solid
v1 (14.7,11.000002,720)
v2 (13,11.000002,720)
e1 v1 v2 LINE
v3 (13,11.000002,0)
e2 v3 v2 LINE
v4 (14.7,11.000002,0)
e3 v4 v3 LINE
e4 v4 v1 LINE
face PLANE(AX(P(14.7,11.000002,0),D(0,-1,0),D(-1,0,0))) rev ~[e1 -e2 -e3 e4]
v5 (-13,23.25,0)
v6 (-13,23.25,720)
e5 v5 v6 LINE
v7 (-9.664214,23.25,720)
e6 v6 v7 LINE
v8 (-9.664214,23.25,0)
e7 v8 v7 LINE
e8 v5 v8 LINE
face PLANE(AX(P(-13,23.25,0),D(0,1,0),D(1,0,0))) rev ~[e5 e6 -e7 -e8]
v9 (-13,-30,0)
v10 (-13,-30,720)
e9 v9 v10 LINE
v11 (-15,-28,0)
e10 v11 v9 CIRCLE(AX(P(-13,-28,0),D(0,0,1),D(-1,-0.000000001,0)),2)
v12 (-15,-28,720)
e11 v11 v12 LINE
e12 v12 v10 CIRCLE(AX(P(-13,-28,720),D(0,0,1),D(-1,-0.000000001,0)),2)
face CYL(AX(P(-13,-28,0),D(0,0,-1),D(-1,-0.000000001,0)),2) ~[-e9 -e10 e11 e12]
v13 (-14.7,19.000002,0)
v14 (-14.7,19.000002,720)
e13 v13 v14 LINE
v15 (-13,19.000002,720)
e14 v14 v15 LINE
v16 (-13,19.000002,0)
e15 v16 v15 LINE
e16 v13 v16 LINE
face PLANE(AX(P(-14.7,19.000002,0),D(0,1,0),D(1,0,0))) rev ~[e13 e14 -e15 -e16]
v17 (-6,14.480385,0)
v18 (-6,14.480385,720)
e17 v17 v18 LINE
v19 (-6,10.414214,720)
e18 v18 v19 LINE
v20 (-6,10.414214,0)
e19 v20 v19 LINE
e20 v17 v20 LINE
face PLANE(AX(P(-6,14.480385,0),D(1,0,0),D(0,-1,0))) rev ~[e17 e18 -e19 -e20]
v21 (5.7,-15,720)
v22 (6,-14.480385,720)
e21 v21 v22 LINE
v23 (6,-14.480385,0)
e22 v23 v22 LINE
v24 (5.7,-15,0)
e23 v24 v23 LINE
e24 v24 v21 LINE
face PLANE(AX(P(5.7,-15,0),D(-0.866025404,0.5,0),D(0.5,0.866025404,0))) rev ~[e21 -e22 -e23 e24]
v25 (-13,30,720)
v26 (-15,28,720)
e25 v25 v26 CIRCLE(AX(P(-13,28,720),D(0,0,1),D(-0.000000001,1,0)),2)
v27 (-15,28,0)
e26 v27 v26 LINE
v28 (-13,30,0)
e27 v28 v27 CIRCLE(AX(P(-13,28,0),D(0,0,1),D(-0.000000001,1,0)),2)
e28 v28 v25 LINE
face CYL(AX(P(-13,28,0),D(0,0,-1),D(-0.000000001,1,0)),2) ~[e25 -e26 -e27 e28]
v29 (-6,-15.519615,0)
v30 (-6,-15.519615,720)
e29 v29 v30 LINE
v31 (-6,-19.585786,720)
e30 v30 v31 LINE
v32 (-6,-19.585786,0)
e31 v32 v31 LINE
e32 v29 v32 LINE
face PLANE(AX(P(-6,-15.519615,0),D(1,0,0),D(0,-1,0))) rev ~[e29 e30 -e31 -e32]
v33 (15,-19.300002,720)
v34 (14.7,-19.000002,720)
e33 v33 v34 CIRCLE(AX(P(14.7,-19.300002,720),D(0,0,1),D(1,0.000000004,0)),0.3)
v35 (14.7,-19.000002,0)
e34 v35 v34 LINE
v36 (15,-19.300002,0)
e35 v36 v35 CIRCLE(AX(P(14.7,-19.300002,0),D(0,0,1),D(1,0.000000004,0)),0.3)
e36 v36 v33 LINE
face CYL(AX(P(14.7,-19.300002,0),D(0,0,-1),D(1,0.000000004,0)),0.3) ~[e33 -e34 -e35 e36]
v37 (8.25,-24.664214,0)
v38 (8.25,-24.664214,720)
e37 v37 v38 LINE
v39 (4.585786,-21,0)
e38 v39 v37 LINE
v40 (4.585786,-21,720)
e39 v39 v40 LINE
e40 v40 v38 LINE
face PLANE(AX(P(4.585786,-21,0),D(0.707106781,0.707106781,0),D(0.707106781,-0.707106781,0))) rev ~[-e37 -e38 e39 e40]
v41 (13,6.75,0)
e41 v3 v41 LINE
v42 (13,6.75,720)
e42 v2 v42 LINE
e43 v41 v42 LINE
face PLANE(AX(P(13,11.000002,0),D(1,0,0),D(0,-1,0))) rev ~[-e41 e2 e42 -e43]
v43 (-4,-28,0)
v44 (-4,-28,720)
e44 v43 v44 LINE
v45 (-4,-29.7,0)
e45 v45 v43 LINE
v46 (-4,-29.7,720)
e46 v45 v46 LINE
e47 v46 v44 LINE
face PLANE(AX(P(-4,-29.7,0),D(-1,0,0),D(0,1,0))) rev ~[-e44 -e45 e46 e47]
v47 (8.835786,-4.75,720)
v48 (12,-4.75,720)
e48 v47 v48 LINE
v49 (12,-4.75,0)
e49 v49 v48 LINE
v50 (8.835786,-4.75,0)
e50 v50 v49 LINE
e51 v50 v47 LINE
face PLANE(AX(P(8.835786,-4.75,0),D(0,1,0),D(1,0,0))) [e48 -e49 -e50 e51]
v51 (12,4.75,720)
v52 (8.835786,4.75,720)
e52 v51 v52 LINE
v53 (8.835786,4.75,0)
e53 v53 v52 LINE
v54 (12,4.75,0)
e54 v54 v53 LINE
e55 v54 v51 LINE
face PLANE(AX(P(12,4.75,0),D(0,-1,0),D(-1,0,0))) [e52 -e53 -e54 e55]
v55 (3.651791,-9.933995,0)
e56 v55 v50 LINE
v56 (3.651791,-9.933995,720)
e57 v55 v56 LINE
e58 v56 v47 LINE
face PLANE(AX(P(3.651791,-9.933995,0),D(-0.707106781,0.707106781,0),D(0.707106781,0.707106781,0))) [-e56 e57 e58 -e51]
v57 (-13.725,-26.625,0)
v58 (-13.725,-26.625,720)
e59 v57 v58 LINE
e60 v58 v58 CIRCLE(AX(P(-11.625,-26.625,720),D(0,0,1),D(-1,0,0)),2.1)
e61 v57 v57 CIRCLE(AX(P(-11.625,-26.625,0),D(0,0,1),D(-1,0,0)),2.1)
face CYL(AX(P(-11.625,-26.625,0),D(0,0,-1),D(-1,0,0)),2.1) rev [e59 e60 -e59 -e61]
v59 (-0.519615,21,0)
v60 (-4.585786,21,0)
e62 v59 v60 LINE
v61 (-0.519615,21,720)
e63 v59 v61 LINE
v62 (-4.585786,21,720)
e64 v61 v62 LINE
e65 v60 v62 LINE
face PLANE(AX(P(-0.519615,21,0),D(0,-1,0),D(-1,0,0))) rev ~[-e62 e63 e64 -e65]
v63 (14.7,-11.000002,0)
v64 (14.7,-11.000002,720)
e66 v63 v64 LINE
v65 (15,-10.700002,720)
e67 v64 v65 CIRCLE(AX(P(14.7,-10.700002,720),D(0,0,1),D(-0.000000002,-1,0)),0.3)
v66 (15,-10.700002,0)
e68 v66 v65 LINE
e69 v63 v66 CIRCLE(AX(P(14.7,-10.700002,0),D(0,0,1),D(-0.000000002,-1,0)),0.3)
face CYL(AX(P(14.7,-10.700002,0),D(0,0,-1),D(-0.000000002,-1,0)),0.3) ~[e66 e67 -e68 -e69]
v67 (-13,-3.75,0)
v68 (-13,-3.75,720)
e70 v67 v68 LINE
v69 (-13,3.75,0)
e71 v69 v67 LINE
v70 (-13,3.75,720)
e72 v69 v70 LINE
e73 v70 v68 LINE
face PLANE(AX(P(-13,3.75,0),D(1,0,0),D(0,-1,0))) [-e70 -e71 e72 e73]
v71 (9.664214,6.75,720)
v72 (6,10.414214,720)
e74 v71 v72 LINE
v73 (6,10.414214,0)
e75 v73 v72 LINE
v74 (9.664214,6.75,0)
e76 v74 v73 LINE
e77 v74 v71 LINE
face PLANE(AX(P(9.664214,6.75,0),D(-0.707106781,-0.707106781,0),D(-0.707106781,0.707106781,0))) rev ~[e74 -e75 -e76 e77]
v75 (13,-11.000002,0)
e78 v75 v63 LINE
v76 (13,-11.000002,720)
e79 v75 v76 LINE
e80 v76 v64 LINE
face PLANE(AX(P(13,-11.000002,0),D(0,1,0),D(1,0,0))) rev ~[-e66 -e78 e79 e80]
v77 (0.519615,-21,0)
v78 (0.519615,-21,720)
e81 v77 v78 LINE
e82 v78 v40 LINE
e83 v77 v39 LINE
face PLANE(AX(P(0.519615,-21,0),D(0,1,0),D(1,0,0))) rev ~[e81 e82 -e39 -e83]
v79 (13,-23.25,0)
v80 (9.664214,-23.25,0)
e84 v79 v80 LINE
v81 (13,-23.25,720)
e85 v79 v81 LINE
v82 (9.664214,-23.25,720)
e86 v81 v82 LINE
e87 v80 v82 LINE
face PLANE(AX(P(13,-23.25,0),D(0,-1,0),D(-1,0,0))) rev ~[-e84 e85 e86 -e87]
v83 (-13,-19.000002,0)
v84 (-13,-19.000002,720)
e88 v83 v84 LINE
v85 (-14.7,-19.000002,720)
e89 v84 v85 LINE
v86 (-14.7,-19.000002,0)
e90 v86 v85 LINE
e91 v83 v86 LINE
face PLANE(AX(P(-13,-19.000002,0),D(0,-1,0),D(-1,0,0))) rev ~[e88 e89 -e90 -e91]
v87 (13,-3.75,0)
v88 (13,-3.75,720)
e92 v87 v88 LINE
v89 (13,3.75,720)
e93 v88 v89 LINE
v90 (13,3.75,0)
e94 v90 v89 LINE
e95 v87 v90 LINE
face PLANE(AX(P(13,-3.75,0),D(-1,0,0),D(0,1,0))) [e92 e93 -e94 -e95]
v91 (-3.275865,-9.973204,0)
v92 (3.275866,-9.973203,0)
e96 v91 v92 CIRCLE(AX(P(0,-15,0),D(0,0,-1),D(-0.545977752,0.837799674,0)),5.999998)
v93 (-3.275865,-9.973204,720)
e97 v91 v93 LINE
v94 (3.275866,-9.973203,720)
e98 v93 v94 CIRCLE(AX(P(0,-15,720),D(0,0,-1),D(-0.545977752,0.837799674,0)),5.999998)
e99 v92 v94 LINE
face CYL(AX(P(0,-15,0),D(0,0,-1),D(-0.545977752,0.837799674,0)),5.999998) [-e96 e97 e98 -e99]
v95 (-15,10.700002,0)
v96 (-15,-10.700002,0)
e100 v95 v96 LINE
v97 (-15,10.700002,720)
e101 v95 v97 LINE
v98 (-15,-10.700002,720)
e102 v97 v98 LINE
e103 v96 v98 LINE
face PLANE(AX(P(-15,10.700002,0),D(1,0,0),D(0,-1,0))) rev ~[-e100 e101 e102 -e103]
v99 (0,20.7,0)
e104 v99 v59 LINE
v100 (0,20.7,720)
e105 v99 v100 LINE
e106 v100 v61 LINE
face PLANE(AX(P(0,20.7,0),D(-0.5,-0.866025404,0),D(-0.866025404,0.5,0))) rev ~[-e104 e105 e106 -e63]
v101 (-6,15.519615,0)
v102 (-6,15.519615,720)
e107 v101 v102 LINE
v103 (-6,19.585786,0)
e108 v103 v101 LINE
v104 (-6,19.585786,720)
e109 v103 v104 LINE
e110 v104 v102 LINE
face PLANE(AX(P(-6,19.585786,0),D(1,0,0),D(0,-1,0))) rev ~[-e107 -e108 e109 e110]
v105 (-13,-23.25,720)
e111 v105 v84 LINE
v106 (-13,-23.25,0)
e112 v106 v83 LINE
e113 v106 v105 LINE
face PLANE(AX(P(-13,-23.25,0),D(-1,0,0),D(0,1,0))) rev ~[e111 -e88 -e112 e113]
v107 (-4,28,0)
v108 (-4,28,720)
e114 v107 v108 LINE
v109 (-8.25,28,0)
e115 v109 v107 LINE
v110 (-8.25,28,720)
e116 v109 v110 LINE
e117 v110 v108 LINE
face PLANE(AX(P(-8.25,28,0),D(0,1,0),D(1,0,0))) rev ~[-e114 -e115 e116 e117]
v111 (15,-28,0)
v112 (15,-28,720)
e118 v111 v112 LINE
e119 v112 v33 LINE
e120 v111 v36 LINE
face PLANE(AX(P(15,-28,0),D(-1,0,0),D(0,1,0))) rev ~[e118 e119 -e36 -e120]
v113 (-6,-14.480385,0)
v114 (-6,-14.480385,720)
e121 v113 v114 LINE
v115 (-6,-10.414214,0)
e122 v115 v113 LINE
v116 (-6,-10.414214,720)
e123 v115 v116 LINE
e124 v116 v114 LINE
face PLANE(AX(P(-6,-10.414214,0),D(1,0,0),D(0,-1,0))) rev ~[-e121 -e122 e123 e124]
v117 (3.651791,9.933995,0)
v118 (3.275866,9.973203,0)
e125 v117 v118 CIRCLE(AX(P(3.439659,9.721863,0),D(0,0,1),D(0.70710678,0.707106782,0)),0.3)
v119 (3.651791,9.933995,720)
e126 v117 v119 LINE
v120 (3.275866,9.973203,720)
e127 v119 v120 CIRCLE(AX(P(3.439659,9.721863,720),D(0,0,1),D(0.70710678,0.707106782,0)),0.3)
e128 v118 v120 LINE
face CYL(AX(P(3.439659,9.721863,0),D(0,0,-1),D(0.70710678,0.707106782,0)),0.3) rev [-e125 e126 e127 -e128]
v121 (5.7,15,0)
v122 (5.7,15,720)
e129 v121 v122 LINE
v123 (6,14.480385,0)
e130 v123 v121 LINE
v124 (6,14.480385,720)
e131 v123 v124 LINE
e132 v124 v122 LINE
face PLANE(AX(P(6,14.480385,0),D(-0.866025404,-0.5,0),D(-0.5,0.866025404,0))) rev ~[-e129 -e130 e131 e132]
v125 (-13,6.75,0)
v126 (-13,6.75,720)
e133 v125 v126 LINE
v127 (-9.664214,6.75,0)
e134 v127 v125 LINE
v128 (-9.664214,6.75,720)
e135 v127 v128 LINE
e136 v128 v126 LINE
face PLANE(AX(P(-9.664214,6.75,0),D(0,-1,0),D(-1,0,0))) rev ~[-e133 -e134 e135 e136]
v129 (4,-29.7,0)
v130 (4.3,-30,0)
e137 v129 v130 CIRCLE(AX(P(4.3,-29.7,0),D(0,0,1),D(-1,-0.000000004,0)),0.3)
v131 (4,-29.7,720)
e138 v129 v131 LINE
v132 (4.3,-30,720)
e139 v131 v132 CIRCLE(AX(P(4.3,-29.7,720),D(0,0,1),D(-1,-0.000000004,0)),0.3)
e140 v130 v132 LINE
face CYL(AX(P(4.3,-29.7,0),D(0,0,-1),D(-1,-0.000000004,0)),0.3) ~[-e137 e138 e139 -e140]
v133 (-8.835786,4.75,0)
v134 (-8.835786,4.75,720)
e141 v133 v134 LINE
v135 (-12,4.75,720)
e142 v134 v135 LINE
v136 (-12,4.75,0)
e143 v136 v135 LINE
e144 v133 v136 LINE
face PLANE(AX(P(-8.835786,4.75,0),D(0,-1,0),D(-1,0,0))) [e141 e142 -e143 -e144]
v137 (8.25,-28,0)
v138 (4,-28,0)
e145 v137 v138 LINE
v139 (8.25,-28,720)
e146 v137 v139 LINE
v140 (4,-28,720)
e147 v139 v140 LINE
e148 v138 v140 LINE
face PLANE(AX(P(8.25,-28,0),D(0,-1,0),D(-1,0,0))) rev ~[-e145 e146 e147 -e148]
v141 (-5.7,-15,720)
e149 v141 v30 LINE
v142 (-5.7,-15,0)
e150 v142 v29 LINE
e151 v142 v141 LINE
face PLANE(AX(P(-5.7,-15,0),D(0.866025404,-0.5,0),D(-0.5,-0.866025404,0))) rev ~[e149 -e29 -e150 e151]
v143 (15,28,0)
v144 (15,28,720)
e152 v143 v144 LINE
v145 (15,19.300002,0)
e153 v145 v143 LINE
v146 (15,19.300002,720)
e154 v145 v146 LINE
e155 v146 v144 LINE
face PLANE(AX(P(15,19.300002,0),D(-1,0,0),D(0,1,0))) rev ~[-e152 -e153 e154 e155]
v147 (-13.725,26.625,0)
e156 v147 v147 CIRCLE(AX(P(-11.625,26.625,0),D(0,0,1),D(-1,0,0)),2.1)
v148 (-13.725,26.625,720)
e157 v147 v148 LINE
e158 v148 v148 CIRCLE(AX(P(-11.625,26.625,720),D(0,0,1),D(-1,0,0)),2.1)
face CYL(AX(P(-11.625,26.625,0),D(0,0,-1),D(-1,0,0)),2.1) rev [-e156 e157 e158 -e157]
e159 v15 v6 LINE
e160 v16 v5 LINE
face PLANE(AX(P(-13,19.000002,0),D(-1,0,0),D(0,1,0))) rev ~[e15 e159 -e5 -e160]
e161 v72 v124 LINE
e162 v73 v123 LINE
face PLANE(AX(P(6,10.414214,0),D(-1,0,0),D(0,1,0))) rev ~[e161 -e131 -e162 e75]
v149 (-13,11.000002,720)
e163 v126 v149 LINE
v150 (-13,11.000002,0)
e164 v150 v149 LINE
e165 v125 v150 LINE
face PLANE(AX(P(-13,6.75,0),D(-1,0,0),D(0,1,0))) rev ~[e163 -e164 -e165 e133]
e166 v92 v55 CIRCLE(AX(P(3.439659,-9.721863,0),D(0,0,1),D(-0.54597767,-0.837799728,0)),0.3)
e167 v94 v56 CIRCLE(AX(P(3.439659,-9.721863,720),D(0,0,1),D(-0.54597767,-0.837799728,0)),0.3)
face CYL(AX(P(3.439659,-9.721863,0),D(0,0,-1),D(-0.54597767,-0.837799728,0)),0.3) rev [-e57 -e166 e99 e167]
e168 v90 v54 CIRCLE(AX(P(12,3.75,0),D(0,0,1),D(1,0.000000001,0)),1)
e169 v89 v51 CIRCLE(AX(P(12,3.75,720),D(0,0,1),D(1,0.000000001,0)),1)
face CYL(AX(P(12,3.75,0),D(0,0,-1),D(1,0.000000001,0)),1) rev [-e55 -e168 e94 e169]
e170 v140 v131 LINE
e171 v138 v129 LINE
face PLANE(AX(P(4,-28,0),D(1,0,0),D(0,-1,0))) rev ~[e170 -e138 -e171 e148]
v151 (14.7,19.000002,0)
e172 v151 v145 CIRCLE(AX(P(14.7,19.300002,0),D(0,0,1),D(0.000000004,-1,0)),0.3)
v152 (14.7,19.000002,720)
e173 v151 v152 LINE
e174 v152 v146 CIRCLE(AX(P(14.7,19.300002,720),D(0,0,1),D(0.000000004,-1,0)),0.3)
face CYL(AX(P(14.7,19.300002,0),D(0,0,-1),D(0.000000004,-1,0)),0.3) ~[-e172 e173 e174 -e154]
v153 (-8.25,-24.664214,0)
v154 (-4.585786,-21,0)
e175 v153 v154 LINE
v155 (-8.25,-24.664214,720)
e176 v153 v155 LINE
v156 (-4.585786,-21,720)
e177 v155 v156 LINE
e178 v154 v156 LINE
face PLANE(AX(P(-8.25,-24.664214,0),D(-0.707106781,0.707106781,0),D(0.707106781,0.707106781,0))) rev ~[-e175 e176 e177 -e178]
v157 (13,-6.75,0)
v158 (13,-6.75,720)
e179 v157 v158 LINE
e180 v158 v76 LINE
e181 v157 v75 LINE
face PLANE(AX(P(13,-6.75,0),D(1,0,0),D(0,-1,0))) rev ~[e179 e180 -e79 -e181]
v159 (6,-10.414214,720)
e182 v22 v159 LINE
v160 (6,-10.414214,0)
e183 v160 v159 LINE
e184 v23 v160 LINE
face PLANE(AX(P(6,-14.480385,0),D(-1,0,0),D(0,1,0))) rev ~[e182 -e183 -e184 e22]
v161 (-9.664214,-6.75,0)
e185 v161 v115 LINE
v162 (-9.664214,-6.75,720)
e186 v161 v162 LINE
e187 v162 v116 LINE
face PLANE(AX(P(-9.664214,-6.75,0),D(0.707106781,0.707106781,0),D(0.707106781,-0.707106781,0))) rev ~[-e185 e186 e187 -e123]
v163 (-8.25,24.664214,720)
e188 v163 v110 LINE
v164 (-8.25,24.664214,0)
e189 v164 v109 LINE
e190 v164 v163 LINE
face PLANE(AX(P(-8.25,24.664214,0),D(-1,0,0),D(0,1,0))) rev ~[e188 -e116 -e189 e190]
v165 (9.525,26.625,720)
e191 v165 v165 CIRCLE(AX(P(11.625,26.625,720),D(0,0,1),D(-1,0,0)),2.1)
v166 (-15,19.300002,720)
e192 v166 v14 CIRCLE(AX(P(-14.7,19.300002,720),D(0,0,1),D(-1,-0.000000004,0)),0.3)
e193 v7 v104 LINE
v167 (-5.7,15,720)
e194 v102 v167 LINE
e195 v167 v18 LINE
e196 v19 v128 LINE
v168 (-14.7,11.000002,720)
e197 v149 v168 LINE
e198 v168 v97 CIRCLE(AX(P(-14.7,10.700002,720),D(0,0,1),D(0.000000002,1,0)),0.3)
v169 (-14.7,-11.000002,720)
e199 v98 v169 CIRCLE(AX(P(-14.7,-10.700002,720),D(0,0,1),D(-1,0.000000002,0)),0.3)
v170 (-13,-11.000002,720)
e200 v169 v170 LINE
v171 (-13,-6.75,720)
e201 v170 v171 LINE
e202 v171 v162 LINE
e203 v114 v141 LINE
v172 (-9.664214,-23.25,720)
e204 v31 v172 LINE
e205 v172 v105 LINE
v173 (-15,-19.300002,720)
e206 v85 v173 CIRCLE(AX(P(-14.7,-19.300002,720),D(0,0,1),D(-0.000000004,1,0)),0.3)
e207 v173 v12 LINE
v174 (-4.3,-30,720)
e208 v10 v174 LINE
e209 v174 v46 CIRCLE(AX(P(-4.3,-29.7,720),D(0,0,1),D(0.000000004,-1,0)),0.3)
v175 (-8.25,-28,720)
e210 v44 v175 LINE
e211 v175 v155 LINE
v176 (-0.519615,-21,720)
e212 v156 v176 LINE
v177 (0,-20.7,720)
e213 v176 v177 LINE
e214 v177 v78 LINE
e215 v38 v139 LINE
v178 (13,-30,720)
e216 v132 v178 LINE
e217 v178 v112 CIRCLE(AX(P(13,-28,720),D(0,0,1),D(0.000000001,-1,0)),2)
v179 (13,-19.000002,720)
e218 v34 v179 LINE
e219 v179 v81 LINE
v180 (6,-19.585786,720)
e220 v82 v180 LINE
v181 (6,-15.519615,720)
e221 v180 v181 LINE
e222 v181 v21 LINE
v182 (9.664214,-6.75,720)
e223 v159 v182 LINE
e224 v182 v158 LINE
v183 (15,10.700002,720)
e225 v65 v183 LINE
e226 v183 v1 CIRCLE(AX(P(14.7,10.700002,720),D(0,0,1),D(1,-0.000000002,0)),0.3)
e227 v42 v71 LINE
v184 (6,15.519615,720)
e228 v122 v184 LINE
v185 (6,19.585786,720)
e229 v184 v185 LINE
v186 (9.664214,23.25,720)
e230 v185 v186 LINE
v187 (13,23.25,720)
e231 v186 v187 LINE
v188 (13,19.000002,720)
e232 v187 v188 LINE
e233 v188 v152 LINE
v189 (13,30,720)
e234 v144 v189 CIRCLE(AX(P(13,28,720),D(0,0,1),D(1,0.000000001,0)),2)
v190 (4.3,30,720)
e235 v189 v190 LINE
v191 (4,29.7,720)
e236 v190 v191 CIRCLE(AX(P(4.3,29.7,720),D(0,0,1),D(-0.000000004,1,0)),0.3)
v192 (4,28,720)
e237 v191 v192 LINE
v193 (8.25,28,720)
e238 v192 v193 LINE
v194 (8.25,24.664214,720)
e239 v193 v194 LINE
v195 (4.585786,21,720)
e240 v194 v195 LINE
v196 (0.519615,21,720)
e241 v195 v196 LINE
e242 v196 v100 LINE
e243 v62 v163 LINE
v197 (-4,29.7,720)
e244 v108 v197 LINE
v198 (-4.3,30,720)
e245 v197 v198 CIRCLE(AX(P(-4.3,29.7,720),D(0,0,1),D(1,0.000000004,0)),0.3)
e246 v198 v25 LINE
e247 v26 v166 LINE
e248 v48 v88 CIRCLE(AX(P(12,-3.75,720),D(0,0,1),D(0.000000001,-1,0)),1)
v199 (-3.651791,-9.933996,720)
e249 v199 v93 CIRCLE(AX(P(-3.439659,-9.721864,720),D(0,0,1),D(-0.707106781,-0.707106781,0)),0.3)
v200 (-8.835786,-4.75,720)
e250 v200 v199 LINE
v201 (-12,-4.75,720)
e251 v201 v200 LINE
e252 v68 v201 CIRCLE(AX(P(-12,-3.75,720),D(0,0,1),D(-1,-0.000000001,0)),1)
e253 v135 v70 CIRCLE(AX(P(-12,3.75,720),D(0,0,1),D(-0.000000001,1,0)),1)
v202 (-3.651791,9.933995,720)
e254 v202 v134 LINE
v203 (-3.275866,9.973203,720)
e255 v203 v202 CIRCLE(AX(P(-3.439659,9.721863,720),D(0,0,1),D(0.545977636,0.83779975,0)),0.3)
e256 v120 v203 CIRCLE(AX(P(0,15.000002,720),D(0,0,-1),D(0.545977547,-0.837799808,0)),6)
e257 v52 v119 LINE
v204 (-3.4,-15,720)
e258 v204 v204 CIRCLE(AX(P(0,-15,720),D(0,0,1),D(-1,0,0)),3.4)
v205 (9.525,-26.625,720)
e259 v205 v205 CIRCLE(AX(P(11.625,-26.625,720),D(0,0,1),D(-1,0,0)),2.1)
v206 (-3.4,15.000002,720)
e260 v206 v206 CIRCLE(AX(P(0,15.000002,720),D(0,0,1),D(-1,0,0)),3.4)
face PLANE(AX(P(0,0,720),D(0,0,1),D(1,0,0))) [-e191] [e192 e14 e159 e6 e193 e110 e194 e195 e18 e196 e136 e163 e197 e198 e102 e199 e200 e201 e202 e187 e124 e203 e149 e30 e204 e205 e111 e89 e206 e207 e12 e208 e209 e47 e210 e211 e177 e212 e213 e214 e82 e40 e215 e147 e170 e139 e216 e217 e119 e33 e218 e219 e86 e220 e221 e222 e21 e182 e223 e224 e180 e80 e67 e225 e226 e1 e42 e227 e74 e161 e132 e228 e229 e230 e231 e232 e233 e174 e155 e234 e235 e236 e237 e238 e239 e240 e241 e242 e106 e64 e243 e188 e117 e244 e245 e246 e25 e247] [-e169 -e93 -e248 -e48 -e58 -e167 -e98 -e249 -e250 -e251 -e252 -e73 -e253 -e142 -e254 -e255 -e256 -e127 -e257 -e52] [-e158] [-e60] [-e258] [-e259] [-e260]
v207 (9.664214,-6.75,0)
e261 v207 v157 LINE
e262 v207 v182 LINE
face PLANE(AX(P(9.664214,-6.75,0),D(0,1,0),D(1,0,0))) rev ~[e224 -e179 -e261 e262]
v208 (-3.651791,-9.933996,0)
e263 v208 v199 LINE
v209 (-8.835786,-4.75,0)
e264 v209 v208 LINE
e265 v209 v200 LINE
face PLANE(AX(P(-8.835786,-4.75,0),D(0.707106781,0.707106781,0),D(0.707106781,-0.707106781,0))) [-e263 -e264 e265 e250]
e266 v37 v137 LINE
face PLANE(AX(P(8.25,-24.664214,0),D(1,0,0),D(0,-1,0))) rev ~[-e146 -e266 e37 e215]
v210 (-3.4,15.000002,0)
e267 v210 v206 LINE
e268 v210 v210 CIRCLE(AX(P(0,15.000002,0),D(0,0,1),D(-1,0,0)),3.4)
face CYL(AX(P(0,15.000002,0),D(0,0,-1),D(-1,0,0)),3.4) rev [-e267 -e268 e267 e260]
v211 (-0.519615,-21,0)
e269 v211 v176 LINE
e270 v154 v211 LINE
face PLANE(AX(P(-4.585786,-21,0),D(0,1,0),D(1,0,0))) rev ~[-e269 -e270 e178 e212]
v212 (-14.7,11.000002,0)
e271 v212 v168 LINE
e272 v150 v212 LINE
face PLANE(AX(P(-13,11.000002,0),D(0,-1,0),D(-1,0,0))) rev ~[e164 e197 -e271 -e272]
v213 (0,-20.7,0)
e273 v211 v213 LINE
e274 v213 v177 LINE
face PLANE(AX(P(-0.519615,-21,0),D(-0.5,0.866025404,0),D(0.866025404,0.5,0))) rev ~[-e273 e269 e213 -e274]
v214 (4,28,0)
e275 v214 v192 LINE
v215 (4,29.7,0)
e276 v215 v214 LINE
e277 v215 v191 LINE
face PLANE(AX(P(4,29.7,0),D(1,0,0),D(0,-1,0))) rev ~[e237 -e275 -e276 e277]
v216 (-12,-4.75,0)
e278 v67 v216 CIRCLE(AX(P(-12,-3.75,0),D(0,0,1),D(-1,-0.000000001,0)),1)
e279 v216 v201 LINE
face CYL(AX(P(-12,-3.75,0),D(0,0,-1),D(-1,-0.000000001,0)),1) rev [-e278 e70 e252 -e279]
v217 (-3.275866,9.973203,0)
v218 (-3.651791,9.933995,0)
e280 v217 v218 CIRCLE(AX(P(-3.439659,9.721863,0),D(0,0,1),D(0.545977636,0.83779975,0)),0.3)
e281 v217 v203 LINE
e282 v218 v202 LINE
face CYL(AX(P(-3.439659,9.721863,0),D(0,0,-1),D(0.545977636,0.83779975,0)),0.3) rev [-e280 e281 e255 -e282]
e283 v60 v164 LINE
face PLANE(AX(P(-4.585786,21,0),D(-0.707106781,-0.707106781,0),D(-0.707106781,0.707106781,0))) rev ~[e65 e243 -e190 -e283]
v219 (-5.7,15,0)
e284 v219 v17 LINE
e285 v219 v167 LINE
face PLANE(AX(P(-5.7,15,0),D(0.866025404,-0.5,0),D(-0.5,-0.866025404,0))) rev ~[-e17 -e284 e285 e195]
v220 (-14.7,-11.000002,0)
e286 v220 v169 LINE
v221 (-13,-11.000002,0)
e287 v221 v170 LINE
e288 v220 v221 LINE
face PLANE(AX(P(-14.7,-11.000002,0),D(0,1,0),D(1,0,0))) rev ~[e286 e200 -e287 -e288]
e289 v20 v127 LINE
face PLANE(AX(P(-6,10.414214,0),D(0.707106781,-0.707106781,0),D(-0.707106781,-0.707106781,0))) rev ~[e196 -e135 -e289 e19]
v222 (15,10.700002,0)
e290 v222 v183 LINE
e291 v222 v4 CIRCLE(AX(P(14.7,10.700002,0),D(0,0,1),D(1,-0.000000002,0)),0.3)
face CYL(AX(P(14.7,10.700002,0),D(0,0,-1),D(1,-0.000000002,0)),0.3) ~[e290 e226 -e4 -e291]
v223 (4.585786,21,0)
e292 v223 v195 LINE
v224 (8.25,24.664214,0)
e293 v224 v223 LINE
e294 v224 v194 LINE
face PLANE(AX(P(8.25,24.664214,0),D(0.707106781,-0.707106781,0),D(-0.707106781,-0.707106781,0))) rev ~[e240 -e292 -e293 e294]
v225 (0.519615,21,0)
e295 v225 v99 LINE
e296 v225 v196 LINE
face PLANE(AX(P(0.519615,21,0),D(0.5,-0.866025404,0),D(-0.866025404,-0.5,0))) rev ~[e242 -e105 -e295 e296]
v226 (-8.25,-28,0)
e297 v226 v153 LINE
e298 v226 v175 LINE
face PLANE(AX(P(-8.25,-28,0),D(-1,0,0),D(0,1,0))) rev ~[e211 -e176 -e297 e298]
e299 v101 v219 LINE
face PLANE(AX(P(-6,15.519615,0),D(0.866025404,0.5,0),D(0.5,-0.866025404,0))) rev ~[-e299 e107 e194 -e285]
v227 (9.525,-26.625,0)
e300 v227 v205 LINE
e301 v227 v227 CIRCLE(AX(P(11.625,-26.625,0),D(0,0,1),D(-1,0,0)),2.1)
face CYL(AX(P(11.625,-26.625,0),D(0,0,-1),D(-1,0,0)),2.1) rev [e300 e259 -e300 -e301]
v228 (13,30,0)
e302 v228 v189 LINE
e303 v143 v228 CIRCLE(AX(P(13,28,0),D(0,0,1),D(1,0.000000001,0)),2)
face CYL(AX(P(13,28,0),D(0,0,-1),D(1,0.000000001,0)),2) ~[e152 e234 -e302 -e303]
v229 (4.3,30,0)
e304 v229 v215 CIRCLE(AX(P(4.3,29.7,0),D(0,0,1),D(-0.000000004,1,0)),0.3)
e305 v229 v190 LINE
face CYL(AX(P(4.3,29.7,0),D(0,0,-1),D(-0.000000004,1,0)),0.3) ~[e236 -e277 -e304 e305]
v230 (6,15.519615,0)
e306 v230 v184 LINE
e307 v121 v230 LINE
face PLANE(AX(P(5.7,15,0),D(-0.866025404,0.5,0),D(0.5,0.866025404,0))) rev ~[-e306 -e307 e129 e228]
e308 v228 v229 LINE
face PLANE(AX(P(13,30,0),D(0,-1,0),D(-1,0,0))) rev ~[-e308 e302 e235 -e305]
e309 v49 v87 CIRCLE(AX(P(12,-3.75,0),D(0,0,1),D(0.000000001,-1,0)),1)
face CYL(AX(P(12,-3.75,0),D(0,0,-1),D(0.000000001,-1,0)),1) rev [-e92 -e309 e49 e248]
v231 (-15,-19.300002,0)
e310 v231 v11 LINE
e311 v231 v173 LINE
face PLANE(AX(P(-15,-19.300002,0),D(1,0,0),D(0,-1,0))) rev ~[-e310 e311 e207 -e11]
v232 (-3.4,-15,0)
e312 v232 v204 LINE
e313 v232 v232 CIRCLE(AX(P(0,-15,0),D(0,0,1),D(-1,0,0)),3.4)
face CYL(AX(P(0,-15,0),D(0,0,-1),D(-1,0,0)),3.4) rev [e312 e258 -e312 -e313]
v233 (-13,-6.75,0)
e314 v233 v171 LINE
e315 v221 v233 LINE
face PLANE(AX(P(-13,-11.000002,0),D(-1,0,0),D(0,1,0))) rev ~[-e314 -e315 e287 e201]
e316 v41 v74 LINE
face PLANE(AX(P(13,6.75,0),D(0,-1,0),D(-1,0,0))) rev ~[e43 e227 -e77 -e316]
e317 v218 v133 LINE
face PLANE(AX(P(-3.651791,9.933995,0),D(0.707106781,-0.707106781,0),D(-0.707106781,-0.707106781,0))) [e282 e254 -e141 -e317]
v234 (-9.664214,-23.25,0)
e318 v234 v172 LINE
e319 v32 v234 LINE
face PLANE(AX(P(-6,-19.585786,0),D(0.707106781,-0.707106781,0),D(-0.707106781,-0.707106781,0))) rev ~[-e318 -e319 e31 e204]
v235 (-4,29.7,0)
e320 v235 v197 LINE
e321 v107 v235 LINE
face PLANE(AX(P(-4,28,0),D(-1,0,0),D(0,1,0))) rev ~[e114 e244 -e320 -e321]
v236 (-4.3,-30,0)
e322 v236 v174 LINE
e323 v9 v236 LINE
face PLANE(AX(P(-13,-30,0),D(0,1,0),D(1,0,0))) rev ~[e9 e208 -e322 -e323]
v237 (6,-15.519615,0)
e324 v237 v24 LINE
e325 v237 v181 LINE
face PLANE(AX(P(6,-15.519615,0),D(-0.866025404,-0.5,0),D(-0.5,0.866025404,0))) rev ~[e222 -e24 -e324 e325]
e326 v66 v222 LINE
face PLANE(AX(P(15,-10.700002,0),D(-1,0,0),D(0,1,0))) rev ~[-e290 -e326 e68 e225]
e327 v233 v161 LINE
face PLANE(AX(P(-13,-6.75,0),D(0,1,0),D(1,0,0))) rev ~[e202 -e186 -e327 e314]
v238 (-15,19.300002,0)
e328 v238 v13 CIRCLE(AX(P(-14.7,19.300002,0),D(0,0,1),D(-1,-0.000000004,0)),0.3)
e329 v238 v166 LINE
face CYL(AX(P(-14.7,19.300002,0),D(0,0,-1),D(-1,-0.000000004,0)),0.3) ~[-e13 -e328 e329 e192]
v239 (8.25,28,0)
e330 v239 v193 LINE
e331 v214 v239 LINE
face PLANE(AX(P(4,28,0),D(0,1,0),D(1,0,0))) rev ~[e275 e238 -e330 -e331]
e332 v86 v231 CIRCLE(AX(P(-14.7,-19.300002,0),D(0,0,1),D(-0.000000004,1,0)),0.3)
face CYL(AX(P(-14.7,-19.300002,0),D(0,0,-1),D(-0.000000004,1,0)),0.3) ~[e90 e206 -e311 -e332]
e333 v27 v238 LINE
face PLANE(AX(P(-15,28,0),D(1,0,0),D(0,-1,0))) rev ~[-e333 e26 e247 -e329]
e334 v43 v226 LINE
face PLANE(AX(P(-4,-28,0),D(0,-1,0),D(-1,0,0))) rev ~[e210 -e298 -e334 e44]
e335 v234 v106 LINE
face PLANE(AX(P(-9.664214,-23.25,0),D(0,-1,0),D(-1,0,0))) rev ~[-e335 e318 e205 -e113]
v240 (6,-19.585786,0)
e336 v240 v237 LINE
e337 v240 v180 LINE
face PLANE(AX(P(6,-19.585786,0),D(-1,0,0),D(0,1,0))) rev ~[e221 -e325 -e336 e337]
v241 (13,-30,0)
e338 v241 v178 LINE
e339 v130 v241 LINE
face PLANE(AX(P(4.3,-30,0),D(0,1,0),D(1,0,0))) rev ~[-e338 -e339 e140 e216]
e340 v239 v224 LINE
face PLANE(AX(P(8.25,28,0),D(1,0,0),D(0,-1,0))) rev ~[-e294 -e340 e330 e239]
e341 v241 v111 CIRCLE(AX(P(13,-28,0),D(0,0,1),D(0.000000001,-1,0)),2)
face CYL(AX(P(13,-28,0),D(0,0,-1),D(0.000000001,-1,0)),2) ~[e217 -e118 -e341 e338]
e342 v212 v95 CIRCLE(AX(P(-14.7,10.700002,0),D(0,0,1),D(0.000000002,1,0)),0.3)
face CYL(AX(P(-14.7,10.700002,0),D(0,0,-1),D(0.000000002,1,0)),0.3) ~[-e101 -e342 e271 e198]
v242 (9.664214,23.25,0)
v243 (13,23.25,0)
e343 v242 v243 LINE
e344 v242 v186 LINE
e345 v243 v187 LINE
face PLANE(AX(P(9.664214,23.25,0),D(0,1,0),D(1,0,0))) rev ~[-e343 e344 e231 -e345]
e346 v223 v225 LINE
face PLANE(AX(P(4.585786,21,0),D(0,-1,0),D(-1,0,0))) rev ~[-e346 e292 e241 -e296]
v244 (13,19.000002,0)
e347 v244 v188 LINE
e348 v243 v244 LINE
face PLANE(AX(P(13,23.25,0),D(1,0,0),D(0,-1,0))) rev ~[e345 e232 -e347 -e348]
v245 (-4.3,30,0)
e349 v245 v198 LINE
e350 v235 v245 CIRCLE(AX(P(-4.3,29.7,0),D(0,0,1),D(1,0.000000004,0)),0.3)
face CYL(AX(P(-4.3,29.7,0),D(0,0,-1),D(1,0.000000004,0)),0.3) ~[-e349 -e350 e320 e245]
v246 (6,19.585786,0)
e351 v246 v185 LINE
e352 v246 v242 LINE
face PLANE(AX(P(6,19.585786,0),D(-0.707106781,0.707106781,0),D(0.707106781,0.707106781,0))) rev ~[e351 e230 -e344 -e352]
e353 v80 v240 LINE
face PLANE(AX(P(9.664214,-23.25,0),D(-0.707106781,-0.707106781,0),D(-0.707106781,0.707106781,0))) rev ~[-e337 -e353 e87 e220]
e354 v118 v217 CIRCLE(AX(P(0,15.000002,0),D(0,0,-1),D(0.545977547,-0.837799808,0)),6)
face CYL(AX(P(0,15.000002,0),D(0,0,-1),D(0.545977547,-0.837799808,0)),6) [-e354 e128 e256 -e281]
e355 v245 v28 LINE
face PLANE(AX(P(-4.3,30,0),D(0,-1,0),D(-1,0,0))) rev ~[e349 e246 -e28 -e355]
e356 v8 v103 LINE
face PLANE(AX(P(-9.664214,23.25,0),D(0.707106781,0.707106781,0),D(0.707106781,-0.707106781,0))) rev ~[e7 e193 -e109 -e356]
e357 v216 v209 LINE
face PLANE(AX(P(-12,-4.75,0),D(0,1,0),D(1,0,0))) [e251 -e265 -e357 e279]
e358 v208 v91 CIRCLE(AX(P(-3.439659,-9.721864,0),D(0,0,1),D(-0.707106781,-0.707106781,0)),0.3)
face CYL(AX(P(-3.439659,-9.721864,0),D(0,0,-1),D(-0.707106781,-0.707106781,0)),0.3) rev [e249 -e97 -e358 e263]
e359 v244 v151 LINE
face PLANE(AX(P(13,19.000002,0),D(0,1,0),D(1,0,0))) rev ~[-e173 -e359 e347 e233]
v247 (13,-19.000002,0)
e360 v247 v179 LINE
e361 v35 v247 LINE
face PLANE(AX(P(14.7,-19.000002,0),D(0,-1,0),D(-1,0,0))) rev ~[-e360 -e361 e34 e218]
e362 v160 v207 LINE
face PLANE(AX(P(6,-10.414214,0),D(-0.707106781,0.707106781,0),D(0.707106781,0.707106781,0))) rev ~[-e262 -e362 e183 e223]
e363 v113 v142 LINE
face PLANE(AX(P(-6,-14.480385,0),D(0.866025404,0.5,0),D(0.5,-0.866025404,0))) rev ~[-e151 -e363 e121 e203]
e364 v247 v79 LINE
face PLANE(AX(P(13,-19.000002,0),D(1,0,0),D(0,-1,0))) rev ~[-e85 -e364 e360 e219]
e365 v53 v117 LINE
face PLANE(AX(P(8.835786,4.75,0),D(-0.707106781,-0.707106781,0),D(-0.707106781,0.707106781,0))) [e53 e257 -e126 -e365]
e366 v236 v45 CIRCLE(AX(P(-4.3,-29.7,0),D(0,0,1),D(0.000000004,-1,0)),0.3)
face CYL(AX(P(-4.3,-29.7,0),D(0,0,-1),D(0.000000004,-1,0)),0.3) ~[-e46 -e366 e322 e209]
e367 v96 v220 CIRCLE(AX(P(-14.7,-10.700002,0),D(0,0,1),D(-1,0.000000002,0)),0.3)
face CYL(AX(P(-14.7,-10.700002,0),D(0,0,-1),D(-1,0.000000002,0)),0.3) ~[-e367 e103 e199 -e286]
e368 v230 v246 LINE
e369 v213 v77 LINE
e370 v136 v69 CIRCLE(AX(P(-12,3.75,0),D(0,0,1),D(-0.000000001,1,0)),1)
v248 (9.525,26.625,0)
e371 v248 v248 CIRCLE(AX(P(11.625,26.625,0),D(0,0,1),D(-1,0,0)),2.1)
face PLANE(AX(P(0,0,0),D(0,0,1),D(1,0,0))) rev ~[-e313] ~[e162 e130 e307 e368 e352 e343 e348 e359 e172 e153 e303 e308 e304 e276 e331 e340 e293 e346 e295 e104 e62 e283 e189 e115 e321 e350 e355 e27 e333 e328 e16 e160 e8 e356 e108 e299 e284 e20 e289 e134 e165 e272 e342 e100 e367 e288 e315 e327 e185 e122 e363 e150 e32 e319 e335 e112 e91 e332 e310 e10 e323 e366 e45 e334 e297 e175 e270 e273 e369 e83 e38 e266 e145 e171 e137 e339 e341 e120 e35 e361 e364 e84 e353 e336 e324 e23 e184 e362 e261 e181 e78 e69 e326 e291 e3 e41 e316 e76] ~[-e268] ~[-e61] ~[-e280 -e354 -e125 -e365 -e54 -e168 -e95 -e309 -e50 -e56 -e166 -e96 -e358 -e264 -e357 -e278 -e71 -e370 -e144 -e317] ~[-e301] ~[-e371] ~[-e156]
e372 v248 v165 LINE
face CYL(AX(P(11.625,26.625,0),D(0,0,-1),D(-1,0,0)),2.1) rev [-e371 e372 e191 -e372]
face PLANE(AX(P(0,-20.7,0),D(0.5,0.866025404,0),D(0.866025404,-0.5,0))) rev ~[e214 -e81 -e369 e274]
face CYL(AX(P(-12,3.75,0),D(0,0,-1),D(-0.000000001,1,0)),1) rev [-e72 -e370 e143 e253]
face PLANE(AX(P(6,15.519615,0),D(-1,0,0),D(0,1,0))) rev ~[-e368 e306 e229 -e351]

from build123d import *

# Parameters (mm, degrees)
SKETCH2_R           = 2.1
SKETCH2_R_2         = 3.4
BOSS_EXTRUDE1_DEPTH = 720


with BuildPart() as part:
    # Sketch2 → Boss-Extrude1 (new body)
    with BuildSketch(Plane.XY):
        with BuildLine():
            Line((-13, -30), (-4.3, -30))
            ThreePointArc((-4.3, -30), (-4.087867966, -29.912132034), (-4, -29.7))
            Line((-4, -29.7), (-4, -28))
            Line((-4, -28), (-8.249999995, -28))
            Line((-8.249999995, -28), (-8.249999995, -24.664213567))
            Line((-8.249999995, -24.664213567), (-4.585786428, -21))
            Line((-4.585786428, -21), (-0.519615237, -21))
            Line((-0.519615237, -21), (5e-09, -20.7))
            Line((5e-09, -20.7), (0.519615247, -21))
            Line((0.519615247, -21), (4.585786438, -21))
            Line((4.585786438, -21), (8.250000005, -24.664213567))
            Line((8.250000005, -24.664213567), (8.250000005, -28))
            Line((8.250000005, -28), (4, -28))
            Line((4, -28), (4, -29.7))
            ThreePointArc((4, -29.7), (4.087867966, -29.912132034), (4.3, -30))
            Line((4.3, -30), (13, -30))
            ThreePointArc((13, -30), (14.414213562, -29.414213562), (15, -28))
            Line((15, -28), (15, -19.3000023))
            ThreePointArc((15, -19.3000023), (14.912132034, -19.087870266), (14.7, -19.0000023))
            Line((14.7, -19.0000023), (13.000000005, -19.0000023))
            Line((13.000000005, -19.0000023), (13.000000005, -23.250000005))
            Line((13.000000005, -23.250000005), (9.664213567, -23.250000005))
            Line((9.664213567, -23.250000005), (6.000000005, -19.585786443))
            Line((6.000000005, -19.585786443), (6.000000005, -15.519615247))
            Line((6.000000005, -15.519615247), (5.700000005, -15.000000005))
            Line((5.700000005, -15.000000005), (6.000000005, -14.480384763))
            Line((6.000000005, -14.480384763), (6.000000005, -10.414213567))
            Line((6.000000005, -10.414213567), (9.664213567, -6.750000005))
            Line((9.664213567, -6.750000005), (13.000000005, -6.750000005))
            Line((13.000000005, -6.750000005), (13.000000005, -11.0000023))
            Line((13.000000005, -11.0000023), (14.7, -11.0000023))
            ThreePointArc((14.7, -11.0000023), (14.912132034, -10.912134335), (15, -10.7000023))
            Line((15, -10.7000023), (15, 10.7000023))
            ThreePointArc((15, 10.7000023), (14.912132034, 10.912134335), (14.7, 11.0000023))
            Line((14.7, 11.0000023), (13.000000005, 11.0000023))
            Line((13.000000005, 11.0000023), (13.000000005, 6.749999995))
            Line((13.000000005, 6.749999995), (9.664213567, 6.749999995))
            Line((9.664213567, 6.749999995), (6.000000005, 10.414213557))
            Line((6.000000005, 10.414213557), (6.000000005, 14.480384753))
            Line((6.000000005, 14.480384753), (5.700000005, 14.999999995))
            Line((5.700000005, 14.999999995), (6.000000005, 15.519615237))
            Line((6.000000005, 15.519615237), (6.000000005, 19.585786433))
            Line((6.000000005, 19.585786433), (9.664213567, 23.249999995))
            Line((9.664213567, 23.249999995), (13.000000005, 23.249999995))
            Line((13.000000005, 23.249999995), (13.000000005, 19.0000023))
            Line((13.000000005, 19.0000023), (14.7, 19.0000023))
            ThreePointArc((14.7, 19.0000023), (14.912132034, 19.087870266), (15, 19.3000023))
            Line((15, 19.3000023), (15, 28))
            ThreePointArc((15, 28), (14.414213562, 29.414213562), (13, 30))
            Line((13, 30), (4.3, 30))
            ThreePointArc((4.3, 30), (4.087867966, 29.912132034), (4, 29.7))
            Line((4, 29.7), (4, 28))
            Line((4, 28), (8.250000005, 28))
            Line((8.250000005, 28), (8.250000005, 24.664213557))
            Line((8.250000005, 24.664213557), (4.585786448, 21))
            Line((4.585786448, 21), (0.519615247, 21))
            Line((0.519615247, 21), (5e-09, 20.7))
            Line((5e-09, 20.7), (-0.519615237, 21))
            Line((-0.519615237, 21), (-4.585786438, 21))
            Line((-4.585786438, 21), (-8.249999995, 24.664213557))
            Line((-8.249999995, 24.664213557), (-8.249999995, 28))
            Line((-8.249999995, 28), (-4, 28))
            Line((-4, 28), (-4, 29.7))
            ThreePointArc((-4, 29.7), (-4.087867966, 29.912132034), (-4.3, 30))
            Line((-4.3, 30), (-13, 30))
            ThreePointArc((-13, 30), (-14.414213562, 29.414213562), (-15, 28))
            Line((-15, 28), (-15, 19.3000023))
            ThreePointArc((-15, 19.3000023), (-14.912132034, 19.087870266), (-14.7, 19.0000023))
            Line((-14.7, 19.0000023), (-12.999999995, 19.0000023))
            Line((-12.999999995, 19.0000023), (-12.999999995, 23.249999995))
            Line((-12.999999995, 23.249999995), (-9.664213557, 23.249999995))
            Line((-9.664213557, 23.249999995), (-5.999999995, 19.585786433))
            Line((-5.999999995, 19.585786433), (-5.999999995, 15.519615237))
            Line((-5.999999995, 15.519615237), (-5.699999995, 14.999999995))
            Line((-5.699999995, 14.999999995), (-5.999999995, 14.480384753))
            Line((-5.999999995, 14.480384753), (-5.999999995, 10.414213557))
            Line((-5.999999995, 10.414213557), (-9.664213557, 6.749999995))
            Line((-9.664213557, 6.749999995), (-12.999999995, 6.749999995))
            Line((-12.999999995, 6.749999995), (-12.999999995, 11.0000023))
            Line((-12.999999995, 11.0000023), (-14.7, 11.0000023))
            ThreePointArc((-14.7, 11.0000023), (-14.912132034, 10.912134335), (-15, 10.7000023))
            Line((-15, 10.7000023), (-15, -10.7000023))
            ThreePointArc((-15, -10.7000023), (-14.912132034, -10.912134335), (-14.7, -11.0000023))
            Line((-14.7, -11.0000023), (-12.999999995, -11.0000023))
            Line((-12.999999995, -11.0000023), (-12.999999995, -6.750000005))
            Line((-12.999999995, -6.750000005), (-9.664213557, -6.750000005))
            Line((-9.664213557, -6.750000005), (-5.999999995, -10.414213567))
            Line((-5.999999995, -10.414213567), (-5.999999995, -14.480384763))
            Line((-5.999999995, -14.480384763), (-5.699999995, -15.000000005))
            Line((-5.699999995, -15.000000005), (-5.999999995, -15.519615247))
            Line((-5.999999995, -15.519615247), (-5.999999995, -19.585786443))
            Line((-5.999999995, -19.585786443), (-9.664213557, -23.250000005))
            Line((-9.664213557, -23.250000005), (-12.999999995, -23.250000005))
            Line((-12.999999995, -23.250000005), (-12.999999995, -19.0000023))
            Line((-12.999999995, -19.0000023), (-14.7, -19.0000023))
            ThreePointArc((-14.7, -19.0000023), (-14.912132034, -19.087870266), (-15, -19.3000023))
            Line((-15, -19.3000023), (-15, -28))
            ThreePointArc((-15, -28), (-14.414213562, -29.414213562), (-13, -30))
        make_face()
        with Locations(Location((11.625000005, 26.624999995, 0), (0, 0, 180))):
            Circle(SKETCH2_R, mode=Mode.SUBTRACT)
        with Locations(Location((11.625000005, -26.625000005, 0), (0, 0, 180))):
            Circle(SKETCH2_R, mode=Mode.SUBTRACT)
        with Locations(Location((4.55e-07, -15.00000049, 0), (0, 0, 180))):
            Circle(SKETCH2_R_2, mode=Mode.SUBTRACT)
        with Locations(Location((4.55e-07, 15.0000023, 0), (0, 0, 180))):
            Circle(SKETCH2_R_2, mode=Mode.SUBTRACT)
        with Locations(Location((-11.624999995, 26.624999995, 0), (0, 0, 180))):
            Circle(SKETCH2_R, mode=Mode.SUBTRACT)
        with Locations(Location((-11.624999995, -26.625000005, 0), (0, 0, 180))):
            Circle(SKETCH2_R, mode=Mode.SUBTRACT)
        with BuildLine():
            Line((-12.999999995, 3.749999995), (-12.999999995, -3.750000005))
            ThreePointArc((-12.999999995, -3.750000005), (-12.707106776, -4.457106786), (-11.999999995, -4.750000005))
            Line((-11.999999995, -4.750000005), (-8.835786433, -4.750000005))
            Line((-8.835786433, -4.750000005), (-3.651790591, -9.933995846))
            ThreePointArc((-3.651790591, -9.933995846), (-3.470778838, -10.020245326), (-3.275865231, -9.973203714))
            ThreePointArc((-3.275865231, -9.973203714), (1.45e-07, -9.000002005), (3.275865622, -9.973203376))
            ThreePointArc((3.275865622, -9.973203376), (3.470779219, -10.02024497), (3.651790956, -9.933995491))
            Line((3.651790956, -9.933995491), (8.835786443, -4.750000005))
            Line((8.835786443, -4.750000005), (12.000000005, -4.750000005))
            ThreePointArc((12.000000005, -4.750000005), (12.707106786, -4.457106786), (13.000000005, -3.750000005))
            Line((13.000000005, -3.750000005), (13.000000005, 3.749999995))
            ThreePointArc((13.000000005, 3.749999995), (12.707106786, 4.457106776), (12.000000005, 4.749999995))
            Line((12.000000005, 4.749999995), (8.835786443, 4.749999995))
            Line((8.835786443, 4.749999995), (3.6517913, 9.933995138))
            ThreePointArc((3.6517913, 9.933995138), (3.470779584, 10.020244614), (3.275866001, 9.973203046))
            ThreePointArc((3.275866001, 9.973203046), (1.45e-07, 9.000001815), (-3.27586561, 9.973203384))
            ThreePointArc((-3.27586561, 9.973203384), (-3.470779203, 10.020244971), (-3.651790935, 9.933995493))
            Line((-3.651790935, 9.933995493), (-8.835786433, 4.749999995))
            Line((-8.835786433, 4.749999995), (-11.999999995, 4.749999995))
            ThreePointArc((-11.999999995, 4.749999995), (-12.707106776, 4.457106776), (-12.999999995, 3.749999995))
        make_face(mode=Mode.SUBTRACT)
    extrude(amount=BOSS_EXTRUDE1_DEPTH)


solid = part.part
